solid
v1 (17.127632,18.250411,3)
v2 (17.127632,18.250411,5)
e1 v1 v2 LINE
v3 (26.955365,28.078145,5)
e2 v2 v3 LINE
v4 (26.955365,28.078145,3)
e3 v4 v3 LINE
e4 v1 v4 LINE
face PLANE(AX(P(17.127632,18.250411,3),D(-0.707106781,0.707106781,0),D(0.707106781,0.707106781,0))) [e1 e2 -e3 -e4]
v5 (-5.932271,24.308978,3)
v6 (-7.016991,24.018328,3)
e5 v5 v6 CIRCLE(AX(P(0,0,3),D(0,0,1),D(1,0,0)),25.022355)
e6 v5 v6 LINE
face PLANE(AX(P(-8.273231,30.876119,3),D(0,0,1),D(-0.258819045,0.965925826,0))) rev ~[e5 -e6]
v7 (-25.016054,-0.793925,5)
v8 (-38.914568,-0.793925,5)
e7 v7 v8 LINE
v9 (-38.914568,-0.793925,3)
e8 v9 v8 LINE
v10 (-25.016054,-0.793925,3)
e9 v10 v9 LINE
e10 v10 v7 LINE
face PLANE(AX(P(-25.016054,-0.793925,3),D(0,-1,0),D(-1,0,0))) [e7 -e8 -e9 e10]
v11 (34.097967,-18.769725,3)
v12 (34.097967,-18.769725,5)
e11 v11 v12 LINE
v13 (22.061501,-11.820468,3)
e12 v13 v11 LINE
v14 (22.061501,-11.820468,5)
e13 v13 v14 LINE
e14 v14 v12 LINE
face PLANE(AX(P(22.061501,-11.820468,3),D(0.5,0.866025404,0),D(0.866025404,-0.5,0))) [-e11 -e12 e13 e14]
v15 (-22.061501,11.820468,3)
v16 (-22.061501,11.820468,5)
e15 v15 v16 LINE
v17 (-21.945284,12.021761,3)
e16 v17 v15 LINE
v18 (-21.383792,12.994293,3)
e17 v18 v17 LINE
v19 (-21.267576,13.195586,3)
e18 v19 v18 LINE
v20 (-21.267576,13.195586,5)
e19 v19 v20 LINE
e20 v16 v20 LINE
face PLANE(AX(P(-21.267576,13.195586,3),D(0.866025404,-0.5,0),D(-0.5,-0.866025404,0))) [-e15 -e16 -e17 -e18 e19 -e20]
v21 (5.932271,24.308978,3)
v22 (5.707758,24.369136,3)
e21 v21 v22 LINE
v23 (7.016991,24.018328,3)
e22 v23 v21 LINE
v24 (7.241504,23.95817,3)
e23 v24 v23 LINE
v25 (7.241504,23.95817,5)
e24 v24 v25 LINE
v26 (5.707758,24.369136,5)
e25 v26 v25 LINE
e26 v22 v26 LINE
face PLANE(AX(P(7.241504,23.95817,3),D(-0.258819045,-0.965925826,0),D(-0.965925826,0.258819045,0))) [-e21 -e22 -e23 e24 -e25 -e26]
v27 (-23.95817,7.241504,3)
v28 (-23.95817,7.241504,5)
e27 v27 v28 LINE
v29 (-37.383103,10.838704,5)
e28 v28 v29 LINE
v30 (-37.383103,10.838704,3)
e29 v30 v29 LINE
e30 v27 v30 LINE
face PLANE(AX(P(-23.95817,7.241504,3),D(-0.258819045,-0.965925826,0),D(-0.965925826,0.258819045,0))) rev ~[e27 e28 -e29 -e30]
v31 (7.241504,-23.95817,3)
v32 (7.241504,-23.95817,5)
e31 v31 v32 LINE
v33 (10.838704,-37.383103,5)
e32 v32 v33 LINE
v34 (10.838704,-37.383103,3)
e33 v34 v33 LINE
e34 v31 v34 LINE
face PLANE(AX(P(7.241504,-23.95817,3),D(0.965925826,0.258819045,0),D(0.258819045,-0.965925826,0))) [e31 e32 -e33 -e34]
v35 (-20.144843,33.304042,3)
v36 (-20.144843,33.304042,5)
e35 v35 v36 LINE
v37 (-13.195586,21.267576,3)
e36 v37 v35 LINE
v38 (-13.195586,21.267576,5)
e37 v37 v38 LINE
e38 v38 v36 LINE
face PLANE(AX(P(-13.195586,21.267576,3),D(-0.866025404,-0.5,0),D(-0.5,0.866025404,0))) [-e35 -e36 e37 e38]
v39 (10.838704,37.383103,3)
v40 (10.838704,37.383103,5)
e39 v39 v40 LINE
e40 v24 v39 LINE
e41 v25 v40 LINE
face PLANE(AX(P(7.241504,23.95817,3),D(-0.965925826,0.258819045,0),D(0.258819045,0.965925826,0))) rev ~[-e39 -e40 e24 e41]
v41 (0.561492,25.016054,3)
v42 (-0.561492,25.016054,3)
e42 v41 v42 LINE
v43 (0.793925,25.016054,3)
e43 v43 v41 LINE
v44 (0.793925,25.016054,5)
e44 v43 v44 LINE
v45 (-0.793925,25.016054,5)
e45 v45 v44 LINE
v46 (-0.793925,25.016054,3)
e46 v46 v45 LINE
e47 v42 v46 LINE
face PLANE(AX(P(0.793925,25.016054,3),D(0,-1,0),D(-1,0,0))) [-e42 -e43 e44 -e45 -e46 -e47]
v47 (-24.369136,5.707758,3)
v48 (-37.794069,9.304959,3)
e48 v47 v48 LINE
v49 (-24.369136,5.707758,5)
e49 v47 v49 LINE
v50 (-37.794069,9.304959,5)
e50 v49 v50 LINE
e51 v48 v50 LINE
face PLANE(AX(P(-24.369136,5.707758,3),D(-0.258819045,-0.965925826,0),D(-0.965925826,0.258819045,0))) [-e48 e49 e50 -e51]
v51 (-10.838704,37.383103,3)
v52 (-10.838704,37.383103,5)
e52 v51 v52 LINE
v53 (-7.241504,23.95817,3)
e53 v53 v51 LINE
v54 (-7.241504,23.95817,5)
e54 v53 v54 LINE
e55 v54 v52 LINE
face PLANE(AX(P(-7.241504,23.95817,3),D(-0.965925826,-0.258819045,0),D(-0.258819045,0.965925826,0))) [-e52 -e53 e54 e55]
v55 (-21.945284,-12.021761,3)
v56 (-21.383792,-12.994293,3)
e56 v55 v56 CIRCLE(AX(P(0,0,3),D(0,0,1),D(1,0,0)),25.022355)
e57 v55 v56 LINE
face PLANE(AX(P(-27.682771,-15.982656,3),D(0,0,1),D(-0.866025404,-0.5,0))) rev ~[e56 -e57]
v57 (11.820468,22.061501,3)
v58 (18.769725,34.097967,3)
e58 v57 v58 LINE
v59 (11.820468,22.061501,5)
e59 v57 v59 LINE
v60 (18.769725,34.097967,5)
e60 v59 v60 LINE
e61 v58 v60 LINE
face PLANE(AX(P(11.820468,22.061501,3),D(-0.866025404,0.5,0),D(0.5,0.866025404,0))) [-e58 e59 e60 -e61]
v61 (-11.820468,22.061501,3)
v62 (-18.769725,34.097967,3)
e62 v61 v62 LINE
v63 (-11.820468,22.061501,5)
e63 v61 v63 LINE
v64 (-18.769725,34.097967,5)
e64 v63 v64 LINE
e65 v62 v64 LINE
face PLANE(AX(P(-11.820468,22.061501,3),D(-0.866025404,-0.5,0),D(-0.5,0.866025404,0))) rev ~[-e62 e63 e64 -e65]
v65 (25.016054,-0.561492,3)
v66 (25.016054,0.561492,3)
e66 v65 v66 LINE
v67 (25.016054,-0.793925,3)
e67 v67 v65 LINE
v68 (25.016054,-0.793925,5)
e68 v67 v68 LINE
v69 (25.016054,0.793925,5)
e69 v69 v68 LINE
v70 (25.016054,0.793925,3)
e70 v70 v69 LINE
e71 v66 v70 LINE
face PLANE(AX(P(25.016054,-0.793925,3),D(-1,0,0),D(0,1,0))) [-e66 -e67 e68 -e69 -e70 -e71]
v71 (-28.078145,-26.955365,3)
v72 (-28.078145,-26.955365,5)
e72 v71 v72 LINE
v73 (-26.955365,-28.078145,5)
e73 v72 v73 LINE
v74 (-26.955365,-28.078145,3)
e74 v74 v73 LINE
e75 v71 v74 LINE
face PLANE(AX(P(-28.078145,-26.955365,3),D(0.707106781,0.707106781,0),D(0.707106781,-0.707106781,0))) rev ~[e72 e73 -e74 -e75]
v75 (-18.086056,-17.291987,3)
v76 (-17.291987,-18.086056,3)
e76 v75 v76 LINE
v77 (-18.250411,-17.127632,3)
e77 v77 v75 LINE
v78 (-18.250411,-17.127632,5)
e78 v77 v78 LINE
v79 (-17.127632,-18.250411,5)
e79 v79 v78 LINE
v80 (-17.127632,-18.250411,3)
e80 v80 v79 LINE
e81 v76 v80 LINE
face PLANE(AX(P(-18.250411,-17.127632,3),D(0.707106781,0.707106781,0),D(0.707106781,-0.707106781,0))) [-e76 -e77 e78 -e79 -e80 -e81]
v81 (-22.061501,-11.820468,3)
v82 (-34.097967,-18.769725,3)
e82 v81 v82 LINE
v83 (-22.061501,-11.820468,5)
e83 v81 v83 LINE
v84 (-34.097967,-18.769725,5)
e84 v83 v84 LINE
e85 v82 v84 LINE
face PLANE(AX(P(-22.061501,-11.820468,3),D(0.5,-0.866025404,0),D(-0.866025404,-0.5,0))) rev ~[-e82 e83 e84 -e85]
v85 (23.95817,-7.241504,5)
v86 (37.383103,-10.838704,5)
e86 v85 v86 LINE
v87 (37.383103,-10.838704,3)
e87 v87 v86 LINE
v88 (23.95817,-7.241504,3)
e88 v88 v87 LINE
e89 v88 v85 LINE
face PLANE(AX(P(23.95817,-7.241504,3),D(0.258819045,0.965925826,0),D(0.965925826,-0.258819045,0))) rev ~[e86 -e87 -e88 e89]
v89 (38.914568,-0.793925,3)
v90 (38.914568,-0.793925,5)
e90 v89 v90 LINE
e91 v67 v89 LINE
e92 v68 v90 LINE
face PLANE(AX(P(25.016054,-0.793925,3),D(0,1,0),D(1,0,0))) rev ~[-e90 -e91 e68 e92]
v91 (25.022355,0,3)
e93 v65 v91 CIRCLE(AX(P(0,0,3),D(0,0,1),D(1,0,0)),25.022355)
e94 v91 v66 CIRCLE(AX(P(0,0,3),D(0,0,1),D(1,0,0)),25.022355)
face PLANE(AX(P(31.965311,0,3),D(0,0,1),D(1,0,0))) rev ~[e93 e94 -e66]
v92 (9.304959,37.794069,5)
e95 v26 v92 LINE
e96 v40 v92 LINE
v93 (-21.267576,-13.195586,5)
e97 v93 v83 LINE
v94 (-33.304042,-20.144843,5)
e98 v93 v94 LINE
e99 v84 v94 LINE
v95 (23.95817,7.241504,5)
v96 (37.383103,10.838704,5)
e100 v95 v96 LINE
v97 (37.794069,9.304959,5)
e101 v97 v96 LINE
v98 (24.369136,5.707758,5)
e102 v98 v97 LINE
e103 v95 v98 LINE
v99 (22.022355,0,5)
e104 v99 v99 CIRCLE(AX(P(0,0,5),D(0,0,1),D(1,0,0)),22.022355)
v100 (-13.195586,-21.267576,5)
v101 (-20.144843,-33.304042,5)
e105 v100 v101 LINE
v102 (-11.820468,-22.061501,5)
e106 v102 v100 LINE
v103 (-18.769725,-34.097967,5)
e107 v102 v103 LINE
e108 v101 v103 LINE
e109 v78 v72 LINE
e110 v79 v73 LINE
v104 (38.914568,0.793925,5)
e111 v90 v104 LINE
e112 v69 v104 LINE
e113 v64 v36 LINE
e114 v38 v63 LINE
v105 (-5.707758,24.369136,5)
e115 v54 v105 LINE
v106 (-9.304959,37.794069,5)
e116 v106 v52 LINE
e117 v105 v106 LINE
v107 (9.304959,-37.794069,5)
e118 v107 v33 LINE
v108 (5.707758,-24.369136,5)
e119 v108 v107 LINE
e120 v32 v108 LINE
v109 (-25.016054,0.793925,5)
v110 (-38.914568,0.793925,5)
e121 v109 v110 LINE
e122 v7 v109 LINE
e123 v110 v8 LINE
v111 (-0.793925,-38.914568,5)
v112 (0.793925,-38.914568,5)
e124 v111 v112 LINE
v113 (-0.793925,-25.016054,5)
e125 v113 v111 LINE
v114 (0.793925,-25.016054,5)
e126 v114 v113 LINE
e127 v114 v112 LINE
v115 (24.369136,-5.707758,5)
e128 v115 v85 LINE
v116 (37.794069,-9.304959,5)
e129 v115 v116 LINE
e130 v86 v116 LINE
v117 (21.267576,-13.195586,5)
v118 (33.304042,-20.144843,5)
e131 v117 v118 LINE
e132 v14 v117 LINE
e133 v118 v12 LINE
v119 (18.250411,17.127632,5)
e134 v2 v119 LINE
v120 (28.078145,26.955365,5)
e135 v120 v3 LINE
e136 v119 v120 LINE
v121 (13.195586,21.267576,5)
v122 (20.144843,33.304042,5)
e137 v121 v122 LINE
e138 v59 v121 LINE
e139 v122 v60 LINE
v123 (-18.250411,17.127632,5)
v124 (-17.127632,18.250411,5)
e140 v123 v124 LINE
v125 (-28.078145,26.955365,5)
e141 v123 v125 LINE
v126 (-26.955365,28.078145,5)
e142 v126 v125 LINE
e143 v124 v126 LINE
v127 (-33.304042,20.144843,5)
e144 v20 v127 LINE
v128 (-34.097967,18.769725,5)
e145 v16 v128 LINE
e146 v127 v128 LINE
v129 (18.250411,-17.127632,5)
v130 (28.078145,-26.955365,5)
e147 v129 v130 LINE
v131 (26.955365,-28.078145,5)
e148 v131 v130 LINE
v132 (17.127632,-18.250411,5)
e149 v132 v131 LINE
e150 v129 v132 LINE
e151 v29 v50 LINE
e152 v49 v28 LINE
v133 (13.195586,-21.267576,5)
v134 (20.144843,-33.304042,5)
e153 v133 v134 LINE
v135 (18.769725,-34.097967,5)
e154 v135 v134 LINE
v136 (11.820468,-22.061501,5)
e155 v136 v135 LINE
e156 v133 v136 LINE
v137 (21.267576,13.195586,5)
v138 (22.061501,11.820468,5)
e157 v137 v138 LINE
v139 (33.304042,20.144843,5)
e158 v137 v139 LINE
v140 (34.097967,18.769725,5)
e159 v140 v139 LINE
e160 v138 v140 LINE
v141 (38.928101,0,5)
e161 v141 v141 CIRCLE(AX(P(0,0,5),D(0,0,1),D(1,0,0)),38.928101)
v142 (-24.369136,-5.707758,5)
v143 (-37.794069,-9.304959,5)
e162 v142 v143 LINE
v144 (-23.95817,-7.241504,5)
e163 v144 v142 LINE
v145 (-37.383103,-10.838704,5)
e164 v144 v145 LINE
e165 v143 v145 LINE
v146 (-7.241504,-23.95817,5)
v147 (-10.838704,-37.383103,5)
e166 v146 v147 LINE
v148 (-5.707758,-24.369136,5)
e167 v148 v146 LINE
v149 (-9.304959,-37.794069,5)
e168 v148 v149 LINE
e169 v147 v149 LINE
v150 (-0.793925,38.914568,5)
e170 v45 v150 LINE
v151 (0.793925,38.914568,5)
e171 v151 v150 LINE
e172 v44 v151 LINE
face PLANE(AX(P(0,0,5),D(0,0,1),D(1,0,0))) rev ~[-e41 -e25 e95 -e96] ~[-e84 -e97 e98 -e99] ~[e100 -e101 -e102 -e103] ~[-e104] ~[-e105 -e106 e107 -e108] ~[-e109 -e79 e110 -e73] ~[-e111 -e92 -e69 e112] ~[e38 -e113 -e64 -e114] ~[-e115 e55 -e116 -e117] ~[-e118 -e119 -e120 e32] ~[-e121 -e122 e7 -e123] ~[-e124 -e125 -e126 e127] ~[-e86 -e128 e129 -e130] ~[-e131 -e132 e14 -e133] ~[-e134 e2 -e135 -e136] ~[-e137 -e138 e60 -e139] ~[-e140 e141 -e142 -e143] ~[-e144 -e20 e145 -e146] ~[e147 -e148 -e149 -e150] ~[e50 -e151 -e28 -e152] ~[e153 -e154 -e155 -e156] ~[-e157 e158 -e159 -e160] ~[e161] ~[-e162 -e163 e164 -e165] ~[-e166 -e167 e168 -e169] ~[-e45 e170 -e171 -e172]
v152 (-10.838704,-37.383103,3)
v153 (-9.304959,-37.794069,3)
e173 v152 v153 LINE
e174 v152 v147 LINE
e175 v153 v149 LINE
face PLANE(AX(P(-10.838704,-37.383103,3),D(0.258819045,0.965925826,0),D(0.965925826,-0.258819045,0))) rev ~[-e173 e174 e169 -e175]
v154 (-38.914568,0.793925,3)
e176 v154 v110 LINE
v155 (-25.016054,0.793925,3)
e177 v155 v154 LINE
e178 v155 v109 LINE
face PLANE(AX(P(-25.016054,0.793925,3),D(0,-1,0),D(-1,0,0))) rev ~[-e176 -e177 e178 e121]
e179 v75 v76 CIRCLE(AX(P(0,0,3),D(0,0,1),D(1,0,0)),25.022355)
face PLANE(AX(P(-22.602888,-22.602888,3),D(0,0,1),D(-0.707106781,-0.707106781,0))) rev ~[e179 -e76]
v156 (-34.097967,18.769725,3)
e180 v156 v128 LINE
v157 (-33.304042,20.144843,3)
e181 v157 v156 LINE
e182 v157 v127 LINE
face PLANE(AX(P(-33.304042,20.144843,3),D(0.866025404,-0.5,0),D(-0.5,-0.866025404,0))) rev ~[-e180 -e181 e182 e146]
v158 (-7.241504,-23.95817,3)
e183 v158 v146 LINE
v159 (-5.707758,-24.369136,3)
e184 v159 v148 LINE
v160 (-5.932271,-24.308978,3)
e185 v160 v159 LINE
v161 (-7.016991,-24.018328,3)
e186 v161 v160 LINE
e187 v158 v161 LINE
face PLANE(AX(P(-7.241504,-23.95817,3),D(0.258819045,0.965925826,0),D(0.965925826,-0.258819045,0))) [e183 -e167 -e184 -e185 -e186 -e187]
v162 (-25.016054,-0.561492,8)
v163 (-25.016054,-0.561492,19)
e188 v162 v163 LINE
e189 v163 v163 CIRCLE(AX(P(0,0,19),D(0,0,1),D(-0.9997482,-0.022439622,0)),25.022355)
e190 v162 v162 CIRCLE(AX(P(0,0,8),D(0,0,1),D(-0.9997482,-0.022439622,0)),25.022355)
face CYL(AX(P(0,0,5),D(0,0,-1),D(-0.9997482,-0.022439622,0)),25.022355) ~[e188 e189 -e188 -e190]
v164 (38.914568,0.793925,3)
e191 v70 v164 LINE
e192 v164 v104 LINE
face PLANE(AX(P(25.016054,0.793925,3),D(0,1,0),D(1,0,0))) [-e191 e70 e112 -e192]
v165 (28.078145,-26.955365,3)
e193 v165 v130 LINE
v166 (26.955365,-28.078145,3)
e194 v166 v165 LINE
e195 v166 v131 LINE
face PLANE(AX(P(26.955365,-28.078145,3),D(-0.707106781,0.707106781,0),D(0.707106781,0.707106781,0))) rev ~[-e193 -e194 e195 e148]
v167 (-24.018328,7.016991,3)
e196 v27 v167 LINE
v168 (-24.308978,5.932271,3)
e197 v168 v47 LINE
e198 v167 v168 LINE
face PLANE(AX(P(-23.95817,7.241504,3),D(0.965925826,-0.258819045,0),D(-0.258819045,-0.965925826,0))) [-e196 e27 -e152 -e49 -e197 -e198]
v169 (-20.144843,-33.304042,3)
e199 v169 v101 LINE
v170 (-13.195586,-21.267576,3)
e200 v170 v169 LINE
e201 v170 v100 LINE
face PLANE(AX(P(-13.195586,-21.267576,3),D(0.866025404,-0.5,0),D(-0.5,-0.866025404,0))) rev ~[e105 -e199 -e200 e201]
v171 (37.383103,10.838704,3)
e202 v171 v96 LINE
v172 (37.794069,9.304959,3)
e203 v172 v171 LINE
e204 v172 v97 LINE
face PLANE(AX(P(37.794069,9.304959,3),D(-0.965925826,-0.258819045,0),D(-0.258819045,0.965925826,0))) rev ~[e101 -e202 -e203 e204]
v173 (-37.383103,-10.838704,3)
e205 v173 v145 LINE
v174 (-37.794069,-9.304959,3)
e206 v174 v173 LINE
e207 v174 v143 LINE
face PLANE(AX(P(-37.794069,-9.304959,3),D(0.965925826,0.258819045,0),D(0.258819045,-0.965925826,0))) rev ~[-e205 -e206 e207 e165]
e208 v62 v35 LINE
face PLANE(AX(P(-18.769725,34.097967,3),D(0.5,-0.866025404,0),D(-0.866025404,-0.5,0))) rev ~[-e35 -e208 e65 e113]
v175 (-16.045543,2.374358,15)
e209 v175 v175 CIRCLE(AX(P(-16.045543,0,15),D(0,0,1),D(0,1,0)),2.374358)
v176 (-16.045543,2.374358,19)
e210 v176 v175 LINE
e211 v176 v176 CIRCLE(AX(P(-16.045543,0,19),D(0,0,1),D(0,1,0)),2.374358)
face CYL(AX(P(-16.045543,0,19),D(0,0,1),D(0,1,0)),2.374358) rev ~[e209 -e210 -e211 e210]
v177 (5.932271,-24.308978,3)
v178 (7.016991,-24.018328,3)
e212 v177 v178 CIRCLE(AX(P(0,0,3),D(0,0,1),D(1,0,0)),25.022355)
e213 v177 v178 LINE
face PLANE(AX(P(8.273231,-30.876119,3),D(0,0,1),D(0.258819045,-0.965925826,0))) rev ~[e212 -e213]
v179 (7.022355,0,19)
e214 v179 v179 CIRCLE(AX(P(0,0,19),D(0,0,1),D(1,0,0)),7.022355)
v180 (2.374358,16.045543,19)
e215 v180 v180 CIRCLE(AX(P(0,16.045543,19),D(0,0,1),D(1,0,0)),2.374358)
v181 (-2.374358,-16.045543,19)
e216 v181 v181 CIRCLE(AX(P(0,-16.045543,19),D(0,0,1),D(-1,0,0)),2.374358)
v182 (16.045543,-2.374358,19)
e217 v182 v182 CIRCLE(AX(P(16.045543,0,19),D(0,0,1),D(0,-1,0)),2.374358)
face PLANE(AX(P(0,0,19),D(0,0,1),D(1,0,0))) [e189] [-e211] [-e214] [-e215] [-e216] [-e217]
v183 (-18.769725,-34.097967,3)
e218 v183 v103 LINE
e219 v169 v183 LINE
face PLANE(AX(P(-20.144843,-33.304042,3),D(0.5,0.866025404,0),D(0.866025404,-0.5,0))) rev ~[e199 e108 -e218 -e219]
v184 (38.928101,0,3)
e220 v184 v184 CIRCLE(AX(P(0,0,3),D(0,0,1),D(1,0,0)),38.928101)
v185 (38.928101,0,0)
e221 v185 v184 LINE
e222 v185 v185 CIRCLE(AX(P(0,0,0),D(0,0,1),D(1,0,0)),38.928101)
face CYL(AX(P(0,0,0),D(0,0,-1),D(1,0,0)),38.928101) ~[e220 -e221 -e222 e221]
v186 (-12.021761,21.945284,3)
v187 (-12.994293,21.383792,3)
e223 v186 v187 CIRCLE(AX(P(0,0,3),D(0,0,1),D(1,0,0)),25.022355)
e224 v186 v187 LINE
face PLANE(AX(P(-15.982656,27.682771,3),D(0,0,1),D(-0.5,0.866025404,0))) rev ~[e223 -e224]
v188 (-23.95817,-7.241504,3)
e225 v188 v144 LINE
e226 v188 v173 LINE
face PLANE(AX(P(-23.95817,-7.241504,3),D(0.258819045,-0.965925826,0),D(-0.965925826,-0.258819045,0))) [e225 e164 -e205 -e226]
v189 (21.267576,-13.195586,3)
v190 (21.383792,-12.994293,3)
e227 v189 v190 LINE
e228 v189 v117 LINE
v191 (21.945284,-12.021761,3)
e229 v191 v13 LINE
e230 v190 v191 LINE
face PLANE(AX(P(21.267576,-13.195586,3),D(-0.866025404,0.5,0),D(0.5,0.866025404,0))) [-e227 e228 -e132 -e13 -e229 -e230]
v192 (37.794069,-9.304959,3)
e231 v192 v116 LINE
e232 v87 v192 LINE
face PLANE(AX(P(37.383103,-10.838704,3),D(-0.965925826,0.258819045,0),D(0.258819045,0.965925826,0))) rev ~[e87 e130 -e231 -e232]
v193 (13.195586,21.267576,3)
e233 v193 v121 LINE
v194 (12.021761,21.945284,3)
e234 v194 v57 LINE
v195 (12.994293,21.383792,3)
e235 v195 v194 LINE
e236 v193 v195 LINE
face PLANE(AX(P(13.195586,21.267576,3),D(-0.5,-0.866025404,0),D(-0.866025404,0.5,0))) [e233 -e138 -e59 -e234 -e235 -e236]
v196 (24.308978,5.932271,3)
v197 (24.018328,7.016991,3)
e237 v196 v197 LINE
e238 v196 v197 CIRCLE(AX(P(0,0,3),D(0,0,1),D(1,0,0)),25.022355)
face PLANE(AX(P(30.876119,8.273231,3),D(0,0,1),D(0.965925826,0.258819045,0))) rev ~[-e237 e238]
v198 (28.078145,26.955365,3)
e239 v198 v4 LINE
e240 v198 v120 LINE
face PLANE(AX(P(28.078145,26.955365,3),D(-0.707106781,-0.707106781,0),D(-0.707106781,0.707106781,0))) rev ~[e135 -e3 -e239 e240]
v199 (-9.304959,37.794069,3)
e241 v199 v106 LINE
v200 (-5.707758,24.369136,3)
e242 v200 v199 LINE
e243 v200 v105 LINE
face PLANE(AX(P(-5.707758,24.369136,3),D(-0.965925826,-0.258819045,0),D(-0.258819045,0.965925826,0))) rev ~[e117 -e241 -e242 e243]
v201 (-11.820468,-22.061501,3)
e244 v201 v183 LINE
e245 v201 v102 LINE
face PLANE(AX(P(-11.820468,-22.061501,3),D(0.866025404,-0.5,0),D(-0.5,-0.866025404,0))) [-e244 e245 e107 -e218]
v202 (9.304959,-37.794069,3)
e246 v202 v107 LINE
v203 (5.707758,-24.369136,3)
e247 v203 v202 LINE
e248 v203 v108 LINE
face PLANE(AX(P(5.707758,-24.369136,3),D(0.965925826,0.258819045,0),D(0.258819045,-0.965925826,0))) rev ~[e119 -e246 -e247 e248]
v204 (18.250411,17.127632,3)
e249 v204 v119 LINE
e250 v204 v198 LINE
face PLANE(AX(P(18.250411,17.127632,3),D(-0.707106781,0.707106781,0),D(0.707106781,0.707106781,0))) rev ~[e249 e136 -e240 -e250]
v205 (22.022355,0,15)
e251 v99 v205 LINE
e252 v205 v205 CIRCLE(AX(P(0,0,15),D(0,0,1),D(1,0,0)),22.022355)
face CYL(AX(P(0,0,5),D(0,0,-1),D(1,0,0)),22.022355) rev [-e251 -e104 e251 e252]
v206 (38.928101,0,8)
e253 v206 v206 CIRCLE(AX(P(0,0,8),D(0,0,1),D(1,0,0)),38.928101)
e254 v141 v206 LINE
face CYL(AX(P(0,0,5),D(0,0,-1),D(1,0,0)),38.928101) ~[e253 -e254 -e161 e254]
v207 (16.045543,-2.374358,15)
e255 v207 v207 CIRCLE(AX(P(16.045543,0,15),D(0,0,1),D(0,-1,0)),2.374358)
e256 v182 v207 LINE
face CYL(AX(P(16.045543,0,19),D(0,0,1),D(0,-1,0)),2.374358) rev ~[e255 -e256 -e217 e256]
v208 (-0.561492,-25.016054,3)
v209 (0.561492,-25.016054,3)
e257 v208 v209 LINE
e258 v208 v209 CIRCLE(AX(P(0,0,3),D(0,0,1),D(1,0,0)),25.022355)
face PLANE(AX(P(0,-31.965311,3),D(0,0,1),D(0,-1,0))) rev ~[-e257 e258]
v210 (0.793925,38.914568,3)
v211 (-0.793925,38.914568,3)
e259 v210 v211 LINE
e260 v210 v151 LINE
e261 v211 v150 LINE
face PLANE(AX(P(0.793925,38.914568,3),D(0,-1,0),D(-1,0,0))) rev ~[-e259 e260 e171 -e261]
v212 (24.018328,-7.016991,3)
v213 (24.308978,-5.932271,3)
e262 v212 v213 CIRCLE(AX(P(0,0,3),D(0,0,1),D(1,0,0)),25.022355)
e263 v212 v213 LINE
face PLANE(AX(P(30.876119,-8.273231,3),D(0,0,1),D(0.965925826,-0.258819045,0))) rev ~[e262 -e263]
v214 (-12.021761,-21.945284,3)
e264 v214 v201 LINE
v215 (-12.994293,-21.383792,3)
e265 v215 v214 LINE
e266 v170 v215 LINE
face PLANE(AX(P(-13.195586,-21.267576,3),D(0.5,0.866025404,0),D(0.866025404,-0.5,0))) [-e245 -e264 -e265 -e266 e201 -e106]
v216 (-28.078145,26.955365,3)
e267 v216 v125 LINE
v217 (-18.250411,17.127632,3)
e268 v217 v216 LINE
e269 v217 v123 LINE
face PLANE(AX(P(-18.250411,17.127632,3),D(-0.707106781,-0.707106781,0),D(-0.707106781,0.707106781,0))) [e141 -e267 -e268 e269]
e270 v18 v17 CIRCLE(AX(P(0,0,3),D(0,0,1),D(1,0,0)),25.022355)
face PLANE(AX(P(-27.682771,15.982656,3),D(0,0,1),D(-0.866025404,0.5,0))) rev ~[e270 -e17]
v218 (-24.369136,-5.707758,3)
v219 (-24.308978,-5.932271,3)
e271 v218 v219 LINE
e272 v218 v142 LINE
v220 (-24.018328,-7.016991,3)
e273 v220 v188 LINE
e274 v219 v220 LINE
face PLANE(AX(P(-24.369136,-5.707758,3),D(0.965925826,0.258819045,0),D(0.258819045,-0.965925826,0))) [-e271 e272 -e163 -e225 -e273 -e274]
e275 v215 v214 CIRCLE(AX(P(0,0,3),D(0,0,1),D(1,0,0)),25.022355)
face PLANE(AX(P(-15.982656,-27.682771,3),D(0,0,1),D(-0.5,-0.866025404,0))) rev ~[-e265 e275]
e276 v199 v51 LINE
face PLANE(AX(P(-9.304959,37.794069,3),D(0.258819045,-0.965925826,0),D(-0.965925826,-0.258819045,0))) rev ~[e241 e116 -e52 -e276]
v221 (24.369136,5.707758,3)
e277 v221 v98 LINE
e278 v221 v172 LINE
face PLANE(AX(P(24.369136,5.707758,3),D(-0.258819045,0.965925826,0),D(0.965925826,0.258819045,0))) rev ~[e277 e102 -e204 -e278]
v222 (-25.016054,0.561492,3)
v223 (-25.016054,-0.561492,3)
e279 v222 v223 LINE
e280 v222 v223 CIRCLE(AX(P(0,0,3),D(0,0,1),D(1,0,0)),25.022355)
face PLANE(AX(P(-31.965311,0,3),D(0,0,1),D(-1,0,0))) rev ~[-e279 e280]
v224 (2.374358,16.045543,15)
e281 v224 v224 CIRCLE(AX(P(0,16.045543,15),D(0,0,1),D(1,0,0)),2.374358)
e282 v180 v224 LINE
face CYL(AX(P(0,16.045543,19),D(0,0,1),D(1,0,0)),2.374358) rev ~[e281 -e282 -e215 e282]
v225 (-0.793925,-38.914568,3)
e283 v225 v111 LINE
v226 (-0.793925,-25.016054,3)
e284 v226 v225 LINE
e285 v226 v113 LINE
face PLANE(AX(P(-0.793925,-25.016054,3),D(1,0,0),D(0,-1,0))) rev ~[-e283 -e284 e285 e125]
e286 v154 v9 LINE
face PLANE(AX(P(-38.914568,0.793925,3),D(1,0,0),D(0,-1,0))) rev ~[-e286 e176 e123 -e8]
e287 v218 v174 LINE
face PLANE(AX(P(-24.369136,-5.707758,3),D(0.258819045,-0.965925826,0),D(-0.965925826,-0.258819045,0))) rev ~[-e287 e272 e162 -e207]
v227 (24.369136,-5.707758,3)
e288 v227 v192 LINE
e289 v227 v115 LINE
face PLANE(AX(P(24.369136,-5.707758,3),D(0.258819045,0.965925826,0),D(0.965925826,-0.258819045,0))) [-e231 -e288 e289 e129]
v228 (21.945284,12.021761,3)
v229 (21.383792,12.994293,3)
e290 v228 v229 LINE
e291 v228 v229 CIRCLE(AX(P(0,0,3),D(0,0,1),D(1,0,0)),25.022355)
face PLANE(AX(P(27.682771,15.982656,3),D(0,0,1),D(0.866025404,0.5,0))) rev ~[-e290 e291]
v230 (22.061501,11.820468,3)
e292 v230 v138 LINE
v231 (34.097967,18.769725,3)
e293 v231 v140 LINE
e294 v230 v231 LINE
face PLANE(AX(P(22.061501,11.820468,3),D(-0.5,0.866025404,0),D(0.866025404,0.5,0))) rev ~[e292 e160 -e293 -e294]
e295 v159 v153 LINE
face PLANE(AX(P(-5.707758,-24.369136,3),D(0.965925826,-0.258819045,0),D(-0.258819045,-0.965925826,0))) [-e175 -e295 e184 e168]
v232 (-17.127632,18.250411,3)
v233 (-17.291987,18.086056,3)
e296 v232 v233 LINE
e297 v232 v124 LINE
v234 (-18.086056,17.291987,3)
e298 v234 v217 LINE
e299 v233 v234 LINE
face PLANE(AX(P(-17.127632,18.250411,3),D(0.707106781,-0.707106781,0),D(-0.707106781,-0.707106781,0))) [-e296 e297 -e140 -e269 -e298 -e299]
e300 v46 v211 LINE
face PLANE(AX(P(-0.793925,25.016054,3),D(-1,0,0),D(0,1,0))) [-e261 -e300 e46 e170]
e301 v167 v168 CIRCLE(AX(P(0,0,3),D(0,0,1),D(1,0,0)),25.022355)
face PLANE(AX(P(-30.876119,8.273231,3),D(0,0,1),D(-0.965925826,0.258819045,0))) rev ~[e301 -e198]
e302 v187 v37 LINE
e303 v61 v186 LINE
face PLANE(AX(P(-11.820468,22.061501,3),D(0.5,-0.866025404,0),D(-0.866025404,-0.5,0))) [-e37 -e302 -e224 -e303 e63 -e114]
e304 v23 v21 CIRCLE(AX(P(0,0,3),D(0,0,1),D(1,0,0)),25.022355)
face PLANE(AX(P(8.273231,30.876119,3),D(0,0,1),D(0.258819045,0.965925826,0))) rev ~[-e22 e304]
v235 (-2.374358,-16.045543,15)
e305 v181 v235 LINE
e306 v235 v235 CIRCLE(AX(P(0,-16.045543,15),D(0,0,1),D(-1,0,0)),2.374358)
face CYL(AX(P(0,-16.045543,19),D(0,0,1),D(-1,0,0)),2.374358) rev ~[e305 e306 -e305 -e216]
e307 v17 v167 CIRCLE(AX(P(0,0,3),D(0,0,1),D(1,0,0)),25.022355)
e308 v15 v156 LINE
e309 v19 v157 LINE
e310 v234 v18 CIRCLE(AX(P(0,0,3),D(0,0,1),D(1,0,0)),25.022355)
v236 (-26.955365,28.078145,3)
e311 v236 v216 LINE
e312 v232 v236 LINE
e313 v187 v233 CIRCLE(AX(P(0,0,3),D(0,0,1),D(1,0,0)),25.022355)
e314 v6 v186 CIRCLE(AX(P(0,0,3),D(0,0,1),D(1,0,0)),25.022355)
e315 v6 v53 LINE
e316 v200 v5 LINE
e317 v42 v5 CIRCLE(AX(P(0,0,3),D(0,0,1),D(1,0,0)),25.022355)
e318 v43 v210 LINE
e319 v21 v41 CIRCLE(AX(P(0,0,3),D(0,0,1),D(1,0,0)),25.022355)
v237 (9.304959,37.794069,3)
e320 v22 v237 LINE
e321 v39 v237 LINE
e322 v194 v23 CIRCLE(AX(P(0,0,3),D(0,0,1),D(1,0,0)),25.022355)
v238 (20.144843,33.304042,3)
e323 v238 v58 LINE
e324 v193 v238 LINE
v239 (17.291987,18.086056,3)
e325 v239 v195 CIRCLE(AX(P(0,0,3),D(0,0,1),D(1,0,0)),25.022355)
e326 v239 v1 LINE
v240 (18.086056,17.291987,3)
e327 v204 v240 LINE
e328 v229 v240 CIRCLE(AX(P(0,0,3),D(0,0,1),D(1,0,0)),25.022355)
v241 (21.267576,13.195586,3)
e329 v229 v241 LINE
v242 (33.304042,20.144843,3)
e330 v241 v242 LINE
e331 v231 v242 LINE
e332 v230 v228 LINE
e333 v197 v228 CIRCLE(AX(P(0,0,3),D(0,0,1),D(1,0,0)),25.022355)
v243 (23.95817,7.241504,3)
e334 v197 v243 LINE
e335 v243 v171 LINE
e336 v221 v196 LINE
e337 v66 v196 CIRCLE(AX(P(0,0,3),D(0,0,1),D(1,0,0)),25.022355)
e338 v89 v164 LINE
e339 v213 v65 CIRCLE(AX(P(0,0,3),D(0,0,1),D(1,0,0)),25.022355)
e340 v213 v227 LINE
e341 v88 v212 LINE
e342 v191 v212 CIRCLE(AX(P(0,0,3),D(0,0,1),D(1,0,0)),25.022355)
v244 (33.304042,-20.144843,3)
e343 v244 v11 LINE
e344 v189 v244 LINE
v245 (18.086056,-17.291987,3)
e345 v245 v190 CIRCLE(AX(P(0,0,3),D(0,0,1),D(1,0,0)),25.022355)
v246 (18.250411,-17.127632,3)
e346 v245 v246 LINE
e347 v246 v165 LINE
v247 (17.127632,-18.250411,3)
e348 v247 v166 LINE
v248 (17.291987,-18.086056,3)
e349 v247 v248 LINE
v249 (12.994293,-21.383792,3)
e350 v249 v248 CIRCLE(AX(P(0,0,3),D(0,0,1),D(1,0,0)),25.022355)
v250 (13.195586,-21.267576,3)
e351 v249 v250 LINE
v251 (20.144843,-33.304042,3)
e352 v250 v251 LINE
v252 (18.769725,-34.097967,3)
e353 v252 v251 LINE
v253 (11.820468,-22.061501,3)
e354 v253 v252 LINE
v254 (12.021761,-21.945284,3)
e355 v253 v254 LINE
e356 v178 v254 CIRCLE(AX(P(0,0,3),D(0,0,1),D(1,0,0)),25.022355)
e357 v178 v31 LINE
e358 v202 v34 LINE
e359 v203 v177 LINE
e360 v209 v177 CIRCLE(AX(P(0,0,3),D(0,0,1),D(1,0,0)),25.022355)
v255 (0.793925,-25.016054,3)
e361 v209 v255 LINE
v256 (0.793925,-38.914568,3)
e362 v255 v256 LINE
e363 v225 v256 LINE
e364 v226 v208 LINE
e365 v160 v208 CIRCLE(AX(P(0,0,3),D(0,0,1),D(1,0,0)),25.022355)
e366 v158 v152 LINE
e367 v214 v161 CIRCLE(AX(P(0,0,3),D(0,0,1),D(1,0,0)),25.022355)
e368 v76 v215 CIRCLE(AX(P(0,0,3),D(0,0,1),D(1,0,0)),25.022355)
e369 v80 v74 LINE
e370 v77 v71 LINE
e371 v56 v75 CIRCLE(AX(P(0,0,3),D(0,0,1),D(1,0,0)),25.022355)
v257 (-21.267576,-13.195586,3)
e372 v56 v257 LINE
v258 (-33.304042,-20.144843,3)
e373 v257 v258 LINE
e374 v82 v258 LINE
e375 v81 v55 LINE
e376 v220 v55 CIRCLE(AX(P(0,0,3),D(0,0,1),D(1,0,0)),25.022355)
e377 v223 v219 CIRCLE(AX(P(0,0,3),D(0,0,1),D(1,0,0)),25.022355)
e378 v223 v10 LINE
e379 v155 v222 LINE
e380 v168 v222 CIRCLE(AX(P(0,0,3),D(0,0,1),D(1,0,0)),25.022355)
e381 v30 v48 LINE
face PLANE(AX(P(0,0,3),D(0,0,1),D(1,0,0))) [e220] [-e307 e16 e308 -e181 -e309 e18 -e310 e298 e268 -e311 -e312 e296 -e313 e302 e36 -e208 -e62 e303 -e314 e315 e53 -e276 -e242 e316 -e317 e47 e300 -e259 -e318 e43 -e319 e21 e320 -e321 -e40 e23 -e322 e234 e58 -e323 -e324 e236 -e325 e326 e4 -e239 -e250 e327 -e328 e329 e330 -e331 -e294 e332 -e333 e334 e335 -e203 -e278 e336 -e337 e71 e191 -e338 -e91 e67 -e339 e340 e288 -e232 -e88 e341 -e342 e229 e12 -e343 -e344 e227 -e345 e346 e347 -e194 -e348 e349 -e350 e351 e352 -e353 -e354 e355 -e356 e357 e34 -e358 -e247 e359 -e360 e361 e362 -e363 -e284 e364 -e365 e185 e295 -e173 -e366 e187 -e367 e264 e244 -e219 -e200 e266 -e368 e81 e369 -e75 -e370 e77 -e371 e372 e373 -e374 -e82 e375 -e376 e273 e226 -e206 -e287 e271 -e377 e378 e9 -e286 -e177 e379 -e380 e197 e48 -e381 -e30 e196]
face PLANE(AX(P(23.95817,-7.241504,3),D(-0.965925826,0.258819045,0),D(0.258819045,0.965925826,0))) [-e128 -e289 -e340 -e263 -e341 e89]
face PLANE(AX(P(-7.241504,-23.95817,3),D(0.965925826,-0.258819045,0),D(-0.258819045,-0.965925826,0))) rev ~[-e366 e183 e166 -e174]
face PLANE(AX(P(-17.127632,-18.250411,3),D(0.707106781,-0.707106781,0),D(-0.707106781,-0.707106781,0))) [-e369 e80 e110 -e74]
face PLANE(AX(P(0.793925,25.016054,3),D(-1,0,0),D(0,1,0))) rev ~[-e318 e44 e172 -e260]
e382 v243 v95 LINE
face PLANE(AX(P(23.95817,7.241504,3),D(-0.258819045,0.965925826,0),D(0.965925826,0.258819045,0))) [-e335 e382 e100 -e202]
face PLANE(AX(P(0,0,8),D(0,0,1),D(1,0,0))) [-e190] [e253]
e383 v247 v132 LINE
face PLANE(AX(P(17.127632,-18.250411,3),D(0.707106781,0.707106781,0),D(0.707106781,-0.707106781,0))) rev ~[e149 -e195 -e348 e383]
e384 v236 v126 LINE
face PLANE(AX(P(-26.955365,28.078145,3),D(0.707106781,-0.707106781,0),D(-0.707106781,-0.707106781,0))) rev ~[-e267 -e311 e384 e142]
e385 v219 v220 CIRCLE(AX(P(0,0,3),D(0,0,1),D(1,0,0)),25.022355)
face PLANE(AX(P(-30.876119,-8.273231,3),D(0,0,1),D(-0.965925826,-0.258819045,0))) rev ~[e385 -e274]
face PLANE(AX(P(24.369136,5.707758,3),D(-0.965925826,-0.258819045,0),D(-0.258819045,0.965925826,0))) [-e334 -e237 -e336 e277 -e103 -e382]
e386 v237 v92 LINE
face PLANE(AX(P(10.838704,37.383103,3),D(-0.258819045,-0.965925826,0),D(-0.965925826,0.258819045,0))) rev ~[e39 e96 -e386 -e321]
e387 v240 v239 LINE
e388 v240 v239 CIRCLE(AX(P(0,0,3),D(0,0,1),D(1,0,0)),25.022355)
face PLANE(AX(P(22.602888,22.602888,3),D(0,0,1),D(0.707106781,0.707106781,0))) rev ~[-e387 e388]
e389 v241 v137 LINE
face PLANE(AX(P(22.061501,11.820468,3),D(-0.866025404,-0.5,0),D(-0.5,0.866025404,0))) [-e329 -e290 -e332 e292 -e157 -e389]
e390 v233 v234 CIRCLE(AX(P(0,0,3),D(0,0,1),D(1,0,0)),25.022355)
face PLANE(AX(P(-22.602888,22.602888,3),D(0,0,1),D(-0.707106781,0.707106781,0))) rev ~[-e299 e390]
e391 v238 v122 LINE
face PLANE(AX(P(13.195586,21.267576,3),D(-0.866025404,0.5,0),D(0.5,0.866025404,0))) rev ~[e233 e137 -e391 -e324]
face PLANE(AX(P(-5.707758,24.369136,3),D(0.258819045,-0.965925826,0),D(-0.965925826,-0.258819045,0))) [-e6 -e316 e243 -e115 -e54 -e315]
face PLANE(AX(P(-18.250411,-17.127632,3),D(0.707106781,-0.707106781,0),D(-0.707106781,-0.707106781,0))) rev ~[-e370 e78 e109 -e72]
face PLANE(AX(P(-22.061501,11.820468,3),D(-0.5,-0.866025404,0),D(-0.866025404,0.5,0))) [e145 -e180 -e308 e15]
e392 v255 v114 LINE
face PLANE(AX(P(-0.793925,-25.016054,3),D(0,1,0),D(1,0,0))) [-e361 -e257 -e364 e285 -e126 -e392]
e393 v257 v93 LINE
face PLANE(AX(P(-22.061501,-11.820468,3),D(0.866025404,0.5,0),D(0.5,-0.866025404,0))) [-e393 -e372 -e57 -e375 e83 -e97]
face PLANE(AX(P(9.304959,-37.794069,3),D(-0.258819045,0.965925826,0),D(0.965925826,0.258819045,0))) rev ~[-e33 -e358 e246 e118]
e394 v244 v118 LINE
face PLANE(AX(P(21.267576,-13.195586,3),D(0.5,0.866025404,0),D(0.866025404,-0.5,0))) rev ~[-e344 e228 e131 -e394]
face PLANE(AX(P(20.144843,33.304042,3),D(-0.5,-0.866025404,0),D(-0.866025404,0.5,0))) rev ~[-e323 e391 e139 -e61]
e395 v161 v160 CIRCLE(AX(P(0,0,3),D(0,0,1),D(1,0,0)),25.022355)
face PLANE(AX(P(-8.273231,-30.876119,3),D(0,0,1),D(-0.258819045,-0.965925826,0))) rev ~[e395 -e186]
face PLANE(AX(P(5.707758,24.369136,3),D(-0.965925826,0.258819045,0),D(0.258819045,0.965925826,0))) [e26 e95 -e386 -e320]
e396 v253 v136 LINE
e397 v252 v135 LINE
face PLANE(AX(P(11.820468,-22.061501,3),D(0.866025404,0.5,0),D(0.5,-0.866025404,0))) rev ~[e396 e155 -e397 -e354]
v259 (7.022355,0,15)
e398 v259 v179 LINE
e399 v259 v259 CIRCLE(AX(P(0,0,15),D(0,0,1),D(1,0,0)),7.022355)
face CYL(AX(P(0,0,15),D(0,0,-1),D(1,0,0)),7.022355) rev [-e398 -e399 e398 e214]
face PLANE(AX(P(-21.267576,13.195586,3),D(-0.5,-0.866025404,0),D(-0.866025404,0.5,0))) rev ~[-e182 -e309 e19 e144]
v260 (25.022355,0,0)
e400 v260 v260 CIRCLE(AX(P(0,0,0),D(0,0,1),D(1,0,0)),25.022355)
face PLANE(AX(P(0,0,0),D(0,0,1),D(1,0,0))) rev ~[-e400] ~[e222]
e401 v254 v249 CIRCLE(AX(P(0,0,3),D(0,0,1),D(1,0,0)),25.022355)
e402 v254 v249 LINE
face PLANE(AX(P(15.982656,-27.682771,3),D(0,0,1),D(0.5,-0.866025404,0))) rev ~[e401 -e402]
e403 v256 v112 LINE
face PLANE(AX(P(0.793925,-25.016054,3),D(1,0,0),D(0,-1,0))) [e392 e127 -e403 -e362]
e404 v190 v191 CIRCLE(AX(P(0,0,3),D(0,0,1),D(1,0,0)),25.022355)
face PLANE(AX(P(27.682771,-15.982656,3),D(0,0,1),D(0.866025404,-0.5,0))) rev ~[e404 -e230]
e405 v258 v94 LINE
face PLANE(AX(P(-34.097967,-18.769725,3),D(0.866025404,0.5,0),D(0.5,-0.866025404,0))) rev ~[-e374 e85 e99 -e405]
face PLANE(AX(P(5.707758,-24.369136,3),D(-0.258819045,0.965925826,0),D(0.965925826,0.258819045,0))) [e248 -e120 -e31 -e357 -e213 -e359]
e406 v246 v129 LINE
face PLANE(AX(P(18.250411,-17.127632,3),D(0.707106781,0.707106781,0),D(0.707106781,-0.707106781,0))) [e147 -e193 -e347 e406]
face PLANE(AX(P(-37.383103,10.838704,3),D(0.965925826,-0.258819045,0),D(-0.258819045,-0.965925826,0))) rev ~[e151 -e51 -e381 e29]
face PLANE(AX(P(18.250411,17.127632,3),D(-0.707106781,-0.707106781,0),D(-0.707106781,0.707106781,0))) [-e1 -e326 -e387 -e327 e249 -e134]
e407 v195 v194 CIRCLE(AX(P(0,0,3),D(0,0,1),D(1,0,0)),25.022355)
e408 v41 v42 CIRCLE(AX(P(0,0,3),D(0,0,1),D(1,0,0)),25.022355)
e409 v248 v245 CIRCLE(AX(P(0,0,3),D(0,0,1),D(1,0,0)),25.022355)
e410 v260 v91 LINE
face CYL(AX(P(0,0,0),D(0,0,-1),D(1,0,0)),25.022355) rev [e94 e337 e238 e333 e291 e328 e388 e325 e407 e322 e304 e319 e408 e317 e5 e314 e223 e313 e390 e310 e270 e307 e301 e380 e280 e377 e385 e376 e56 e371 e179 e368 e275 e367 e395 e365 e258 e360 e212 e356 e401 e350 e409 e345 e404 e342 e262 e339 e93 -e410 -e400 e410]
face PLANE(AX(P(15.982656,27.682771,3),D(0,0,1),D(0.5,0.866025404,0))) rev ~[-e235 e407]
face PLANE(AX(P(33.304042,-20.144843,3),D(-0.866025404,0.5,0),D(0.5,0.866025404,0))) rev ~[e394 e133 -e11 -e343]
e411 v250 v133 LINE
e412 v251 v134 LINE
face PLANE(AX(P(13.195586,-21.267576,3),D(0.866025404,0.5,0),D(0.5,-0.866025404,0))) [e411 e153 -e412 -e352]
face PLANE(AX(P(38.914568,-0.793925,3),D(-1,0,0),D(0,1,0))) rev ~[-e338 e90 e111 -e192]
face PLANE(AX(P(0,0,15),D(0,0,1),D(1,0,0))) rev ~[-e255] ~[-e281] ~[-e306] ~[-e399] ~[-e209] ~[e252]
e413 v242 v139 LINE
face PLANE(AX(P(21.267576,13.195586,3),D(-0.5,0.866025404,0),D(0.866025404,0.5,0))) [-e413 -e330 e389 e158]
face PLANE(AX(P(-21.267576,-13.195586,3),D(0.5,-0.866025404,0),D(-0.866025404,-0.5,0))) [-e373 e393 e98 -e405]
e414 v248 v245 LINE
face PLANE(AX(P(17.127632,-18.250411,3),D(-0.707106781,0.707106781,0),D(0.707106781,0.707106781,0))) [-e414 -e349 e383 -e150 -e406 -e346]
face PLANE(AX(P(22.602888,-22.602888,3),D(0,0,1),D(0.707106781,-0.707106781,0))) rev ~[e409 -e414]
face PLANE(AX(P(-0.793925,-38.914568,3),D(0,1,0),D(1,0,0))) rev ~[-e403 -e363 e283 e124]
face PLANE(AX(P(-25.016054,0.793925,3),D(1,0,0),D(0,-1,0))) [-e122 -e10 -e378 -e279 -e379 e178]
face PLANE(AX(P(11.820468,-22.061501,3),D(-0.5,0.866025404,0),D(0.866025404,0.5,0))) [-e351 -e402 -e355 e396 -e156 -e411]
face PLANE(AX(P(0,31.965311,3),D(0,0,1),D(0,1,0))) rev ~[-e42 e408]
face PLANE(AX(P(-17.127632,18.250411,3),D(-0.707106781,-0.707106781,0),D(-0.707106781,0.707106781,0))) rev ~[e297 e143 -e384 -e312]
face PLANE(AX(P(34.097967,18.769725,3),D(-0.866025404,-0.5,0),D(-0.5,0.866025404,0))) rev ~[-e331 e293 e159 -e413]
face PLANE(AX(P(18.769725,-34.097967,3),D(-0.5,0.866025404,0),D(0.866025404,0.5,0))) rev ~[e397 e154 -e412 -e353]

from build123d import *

# Parameters (mm, degrees)
SKETCH1_R          = 38.928100528
SKETCH1_R_2        = 25.022354689
EXTRUDE1_DEPTH     = 3
SKETCH2_W          = 13.898513907
SKETCH2_H          = 1.587850138
EXTRUDE2_DEPTH     = 2
CIRPATTERN1_COUNT  = 24
LPATTERN1_COUNT    = 2
LPATTERN1_PITCH    = 5
EXTRUDE3_START     = -3
SKETCH3_R          = 25.022354689
SKETCH3_R_2        = 22.022354689
EXTRUDE3_DEPTH     = 14
EXTRUDE4_START     = -4
SKETCH4_R          = 22.022354689
SKETCH4_R_2        = 7.022354689
EXTRUDE4_DEPTH     = 4
SKETCH5_R          = 2.374357642
CUT_EXTRUDE1_DEPTH = 4
CIRPATTERN2_COUNT  = 4


with BuildPart() as part:
    # Sketch1 → Extrude1 (new body)
    with BuildSketch(Plane.XY):
        Circle(SKETCH1_R)
        Circle(SKETCH1_R_2, mode=Mode.SUBTRACT)
    extrude1 = extrude(amount=EXTRUDE1_DEPTH)

    # Sketch2 → Extrude2 (add)
    with BuildSketch(Plane.XY.offset(3)):
        with Locations((31.965311014, 0)):
            Rectangle(SKETCH2_W, SKETCH2_H)
    extrude2 = extrude(amount=EXTRUDE2_DEPTH)

    # CirPattern1: Extrude2 ×24 about axis
    cirpattern1_axis = Axis((0, 0, 0), (0, 0, 1))
    for i in range(1, CIRPATTERN1_COUNT):
        add(extrude2.rotate(cirpattern1_axis, i * 360 / CIRPATTERN1_COUNT))

    # LPattern1: Extrude1 ×2
    with Locations(*[(0, 0, i * LPATTERN1_PITCH) for i in range(1, LPATTERN1_COUNT)]):
        add(extrude1)

    # Sketch3 → Extrude3 (add)
    with BuildSketch(Plane.XY.offset(8).offset(EXTRUDE3_START)):
        with Locations(Location((0, 0, 0), (0, 0, 181.285803534))):
            Circle(SKETCH3_R)
        Circle(SKETCH3_R_2, mode=Mode.SUBTRACT)
    extrude(amount=EXTRUDE3_DEPTH)

    # Sketch4 → Extrude4 (add)
    with BuildSketch(Plane.XY.offset(19).offset(EXTRUDE4_START)):
        Circle(SKETCH4_R)
        Circle(SKETCH4_R_2, mode=Mode.SUBTRACT)
    extrude(amount=EXTRUDE4_DEPTH)

    # Sketch5 → Cut-Extrude1 (cut)
    with BuildSketch(Plane.XY.offset(19)):
        with Locations((0, 16.045543099)):
            Circle(SKETCH5_R)
    cut_extrude1 = extrude(amount=-CUT_EXTRUDE1_DEPTH, mode=Mode.SUBTRACT)

    # CirPattern2: Cut-Extrude1 ×4 about axis
    cirpattern2_axis = Axis((0, 0, 0), (0, 0, 1))
    for i in range(1, CIRPATTERN2_COUNT):
        add(cut_extrude1.rotate(cirpattern2_axis, i * 360 / CIRPATTERN2_COUNT), mode=Mode.SUBTRACT)


solid = part.part
